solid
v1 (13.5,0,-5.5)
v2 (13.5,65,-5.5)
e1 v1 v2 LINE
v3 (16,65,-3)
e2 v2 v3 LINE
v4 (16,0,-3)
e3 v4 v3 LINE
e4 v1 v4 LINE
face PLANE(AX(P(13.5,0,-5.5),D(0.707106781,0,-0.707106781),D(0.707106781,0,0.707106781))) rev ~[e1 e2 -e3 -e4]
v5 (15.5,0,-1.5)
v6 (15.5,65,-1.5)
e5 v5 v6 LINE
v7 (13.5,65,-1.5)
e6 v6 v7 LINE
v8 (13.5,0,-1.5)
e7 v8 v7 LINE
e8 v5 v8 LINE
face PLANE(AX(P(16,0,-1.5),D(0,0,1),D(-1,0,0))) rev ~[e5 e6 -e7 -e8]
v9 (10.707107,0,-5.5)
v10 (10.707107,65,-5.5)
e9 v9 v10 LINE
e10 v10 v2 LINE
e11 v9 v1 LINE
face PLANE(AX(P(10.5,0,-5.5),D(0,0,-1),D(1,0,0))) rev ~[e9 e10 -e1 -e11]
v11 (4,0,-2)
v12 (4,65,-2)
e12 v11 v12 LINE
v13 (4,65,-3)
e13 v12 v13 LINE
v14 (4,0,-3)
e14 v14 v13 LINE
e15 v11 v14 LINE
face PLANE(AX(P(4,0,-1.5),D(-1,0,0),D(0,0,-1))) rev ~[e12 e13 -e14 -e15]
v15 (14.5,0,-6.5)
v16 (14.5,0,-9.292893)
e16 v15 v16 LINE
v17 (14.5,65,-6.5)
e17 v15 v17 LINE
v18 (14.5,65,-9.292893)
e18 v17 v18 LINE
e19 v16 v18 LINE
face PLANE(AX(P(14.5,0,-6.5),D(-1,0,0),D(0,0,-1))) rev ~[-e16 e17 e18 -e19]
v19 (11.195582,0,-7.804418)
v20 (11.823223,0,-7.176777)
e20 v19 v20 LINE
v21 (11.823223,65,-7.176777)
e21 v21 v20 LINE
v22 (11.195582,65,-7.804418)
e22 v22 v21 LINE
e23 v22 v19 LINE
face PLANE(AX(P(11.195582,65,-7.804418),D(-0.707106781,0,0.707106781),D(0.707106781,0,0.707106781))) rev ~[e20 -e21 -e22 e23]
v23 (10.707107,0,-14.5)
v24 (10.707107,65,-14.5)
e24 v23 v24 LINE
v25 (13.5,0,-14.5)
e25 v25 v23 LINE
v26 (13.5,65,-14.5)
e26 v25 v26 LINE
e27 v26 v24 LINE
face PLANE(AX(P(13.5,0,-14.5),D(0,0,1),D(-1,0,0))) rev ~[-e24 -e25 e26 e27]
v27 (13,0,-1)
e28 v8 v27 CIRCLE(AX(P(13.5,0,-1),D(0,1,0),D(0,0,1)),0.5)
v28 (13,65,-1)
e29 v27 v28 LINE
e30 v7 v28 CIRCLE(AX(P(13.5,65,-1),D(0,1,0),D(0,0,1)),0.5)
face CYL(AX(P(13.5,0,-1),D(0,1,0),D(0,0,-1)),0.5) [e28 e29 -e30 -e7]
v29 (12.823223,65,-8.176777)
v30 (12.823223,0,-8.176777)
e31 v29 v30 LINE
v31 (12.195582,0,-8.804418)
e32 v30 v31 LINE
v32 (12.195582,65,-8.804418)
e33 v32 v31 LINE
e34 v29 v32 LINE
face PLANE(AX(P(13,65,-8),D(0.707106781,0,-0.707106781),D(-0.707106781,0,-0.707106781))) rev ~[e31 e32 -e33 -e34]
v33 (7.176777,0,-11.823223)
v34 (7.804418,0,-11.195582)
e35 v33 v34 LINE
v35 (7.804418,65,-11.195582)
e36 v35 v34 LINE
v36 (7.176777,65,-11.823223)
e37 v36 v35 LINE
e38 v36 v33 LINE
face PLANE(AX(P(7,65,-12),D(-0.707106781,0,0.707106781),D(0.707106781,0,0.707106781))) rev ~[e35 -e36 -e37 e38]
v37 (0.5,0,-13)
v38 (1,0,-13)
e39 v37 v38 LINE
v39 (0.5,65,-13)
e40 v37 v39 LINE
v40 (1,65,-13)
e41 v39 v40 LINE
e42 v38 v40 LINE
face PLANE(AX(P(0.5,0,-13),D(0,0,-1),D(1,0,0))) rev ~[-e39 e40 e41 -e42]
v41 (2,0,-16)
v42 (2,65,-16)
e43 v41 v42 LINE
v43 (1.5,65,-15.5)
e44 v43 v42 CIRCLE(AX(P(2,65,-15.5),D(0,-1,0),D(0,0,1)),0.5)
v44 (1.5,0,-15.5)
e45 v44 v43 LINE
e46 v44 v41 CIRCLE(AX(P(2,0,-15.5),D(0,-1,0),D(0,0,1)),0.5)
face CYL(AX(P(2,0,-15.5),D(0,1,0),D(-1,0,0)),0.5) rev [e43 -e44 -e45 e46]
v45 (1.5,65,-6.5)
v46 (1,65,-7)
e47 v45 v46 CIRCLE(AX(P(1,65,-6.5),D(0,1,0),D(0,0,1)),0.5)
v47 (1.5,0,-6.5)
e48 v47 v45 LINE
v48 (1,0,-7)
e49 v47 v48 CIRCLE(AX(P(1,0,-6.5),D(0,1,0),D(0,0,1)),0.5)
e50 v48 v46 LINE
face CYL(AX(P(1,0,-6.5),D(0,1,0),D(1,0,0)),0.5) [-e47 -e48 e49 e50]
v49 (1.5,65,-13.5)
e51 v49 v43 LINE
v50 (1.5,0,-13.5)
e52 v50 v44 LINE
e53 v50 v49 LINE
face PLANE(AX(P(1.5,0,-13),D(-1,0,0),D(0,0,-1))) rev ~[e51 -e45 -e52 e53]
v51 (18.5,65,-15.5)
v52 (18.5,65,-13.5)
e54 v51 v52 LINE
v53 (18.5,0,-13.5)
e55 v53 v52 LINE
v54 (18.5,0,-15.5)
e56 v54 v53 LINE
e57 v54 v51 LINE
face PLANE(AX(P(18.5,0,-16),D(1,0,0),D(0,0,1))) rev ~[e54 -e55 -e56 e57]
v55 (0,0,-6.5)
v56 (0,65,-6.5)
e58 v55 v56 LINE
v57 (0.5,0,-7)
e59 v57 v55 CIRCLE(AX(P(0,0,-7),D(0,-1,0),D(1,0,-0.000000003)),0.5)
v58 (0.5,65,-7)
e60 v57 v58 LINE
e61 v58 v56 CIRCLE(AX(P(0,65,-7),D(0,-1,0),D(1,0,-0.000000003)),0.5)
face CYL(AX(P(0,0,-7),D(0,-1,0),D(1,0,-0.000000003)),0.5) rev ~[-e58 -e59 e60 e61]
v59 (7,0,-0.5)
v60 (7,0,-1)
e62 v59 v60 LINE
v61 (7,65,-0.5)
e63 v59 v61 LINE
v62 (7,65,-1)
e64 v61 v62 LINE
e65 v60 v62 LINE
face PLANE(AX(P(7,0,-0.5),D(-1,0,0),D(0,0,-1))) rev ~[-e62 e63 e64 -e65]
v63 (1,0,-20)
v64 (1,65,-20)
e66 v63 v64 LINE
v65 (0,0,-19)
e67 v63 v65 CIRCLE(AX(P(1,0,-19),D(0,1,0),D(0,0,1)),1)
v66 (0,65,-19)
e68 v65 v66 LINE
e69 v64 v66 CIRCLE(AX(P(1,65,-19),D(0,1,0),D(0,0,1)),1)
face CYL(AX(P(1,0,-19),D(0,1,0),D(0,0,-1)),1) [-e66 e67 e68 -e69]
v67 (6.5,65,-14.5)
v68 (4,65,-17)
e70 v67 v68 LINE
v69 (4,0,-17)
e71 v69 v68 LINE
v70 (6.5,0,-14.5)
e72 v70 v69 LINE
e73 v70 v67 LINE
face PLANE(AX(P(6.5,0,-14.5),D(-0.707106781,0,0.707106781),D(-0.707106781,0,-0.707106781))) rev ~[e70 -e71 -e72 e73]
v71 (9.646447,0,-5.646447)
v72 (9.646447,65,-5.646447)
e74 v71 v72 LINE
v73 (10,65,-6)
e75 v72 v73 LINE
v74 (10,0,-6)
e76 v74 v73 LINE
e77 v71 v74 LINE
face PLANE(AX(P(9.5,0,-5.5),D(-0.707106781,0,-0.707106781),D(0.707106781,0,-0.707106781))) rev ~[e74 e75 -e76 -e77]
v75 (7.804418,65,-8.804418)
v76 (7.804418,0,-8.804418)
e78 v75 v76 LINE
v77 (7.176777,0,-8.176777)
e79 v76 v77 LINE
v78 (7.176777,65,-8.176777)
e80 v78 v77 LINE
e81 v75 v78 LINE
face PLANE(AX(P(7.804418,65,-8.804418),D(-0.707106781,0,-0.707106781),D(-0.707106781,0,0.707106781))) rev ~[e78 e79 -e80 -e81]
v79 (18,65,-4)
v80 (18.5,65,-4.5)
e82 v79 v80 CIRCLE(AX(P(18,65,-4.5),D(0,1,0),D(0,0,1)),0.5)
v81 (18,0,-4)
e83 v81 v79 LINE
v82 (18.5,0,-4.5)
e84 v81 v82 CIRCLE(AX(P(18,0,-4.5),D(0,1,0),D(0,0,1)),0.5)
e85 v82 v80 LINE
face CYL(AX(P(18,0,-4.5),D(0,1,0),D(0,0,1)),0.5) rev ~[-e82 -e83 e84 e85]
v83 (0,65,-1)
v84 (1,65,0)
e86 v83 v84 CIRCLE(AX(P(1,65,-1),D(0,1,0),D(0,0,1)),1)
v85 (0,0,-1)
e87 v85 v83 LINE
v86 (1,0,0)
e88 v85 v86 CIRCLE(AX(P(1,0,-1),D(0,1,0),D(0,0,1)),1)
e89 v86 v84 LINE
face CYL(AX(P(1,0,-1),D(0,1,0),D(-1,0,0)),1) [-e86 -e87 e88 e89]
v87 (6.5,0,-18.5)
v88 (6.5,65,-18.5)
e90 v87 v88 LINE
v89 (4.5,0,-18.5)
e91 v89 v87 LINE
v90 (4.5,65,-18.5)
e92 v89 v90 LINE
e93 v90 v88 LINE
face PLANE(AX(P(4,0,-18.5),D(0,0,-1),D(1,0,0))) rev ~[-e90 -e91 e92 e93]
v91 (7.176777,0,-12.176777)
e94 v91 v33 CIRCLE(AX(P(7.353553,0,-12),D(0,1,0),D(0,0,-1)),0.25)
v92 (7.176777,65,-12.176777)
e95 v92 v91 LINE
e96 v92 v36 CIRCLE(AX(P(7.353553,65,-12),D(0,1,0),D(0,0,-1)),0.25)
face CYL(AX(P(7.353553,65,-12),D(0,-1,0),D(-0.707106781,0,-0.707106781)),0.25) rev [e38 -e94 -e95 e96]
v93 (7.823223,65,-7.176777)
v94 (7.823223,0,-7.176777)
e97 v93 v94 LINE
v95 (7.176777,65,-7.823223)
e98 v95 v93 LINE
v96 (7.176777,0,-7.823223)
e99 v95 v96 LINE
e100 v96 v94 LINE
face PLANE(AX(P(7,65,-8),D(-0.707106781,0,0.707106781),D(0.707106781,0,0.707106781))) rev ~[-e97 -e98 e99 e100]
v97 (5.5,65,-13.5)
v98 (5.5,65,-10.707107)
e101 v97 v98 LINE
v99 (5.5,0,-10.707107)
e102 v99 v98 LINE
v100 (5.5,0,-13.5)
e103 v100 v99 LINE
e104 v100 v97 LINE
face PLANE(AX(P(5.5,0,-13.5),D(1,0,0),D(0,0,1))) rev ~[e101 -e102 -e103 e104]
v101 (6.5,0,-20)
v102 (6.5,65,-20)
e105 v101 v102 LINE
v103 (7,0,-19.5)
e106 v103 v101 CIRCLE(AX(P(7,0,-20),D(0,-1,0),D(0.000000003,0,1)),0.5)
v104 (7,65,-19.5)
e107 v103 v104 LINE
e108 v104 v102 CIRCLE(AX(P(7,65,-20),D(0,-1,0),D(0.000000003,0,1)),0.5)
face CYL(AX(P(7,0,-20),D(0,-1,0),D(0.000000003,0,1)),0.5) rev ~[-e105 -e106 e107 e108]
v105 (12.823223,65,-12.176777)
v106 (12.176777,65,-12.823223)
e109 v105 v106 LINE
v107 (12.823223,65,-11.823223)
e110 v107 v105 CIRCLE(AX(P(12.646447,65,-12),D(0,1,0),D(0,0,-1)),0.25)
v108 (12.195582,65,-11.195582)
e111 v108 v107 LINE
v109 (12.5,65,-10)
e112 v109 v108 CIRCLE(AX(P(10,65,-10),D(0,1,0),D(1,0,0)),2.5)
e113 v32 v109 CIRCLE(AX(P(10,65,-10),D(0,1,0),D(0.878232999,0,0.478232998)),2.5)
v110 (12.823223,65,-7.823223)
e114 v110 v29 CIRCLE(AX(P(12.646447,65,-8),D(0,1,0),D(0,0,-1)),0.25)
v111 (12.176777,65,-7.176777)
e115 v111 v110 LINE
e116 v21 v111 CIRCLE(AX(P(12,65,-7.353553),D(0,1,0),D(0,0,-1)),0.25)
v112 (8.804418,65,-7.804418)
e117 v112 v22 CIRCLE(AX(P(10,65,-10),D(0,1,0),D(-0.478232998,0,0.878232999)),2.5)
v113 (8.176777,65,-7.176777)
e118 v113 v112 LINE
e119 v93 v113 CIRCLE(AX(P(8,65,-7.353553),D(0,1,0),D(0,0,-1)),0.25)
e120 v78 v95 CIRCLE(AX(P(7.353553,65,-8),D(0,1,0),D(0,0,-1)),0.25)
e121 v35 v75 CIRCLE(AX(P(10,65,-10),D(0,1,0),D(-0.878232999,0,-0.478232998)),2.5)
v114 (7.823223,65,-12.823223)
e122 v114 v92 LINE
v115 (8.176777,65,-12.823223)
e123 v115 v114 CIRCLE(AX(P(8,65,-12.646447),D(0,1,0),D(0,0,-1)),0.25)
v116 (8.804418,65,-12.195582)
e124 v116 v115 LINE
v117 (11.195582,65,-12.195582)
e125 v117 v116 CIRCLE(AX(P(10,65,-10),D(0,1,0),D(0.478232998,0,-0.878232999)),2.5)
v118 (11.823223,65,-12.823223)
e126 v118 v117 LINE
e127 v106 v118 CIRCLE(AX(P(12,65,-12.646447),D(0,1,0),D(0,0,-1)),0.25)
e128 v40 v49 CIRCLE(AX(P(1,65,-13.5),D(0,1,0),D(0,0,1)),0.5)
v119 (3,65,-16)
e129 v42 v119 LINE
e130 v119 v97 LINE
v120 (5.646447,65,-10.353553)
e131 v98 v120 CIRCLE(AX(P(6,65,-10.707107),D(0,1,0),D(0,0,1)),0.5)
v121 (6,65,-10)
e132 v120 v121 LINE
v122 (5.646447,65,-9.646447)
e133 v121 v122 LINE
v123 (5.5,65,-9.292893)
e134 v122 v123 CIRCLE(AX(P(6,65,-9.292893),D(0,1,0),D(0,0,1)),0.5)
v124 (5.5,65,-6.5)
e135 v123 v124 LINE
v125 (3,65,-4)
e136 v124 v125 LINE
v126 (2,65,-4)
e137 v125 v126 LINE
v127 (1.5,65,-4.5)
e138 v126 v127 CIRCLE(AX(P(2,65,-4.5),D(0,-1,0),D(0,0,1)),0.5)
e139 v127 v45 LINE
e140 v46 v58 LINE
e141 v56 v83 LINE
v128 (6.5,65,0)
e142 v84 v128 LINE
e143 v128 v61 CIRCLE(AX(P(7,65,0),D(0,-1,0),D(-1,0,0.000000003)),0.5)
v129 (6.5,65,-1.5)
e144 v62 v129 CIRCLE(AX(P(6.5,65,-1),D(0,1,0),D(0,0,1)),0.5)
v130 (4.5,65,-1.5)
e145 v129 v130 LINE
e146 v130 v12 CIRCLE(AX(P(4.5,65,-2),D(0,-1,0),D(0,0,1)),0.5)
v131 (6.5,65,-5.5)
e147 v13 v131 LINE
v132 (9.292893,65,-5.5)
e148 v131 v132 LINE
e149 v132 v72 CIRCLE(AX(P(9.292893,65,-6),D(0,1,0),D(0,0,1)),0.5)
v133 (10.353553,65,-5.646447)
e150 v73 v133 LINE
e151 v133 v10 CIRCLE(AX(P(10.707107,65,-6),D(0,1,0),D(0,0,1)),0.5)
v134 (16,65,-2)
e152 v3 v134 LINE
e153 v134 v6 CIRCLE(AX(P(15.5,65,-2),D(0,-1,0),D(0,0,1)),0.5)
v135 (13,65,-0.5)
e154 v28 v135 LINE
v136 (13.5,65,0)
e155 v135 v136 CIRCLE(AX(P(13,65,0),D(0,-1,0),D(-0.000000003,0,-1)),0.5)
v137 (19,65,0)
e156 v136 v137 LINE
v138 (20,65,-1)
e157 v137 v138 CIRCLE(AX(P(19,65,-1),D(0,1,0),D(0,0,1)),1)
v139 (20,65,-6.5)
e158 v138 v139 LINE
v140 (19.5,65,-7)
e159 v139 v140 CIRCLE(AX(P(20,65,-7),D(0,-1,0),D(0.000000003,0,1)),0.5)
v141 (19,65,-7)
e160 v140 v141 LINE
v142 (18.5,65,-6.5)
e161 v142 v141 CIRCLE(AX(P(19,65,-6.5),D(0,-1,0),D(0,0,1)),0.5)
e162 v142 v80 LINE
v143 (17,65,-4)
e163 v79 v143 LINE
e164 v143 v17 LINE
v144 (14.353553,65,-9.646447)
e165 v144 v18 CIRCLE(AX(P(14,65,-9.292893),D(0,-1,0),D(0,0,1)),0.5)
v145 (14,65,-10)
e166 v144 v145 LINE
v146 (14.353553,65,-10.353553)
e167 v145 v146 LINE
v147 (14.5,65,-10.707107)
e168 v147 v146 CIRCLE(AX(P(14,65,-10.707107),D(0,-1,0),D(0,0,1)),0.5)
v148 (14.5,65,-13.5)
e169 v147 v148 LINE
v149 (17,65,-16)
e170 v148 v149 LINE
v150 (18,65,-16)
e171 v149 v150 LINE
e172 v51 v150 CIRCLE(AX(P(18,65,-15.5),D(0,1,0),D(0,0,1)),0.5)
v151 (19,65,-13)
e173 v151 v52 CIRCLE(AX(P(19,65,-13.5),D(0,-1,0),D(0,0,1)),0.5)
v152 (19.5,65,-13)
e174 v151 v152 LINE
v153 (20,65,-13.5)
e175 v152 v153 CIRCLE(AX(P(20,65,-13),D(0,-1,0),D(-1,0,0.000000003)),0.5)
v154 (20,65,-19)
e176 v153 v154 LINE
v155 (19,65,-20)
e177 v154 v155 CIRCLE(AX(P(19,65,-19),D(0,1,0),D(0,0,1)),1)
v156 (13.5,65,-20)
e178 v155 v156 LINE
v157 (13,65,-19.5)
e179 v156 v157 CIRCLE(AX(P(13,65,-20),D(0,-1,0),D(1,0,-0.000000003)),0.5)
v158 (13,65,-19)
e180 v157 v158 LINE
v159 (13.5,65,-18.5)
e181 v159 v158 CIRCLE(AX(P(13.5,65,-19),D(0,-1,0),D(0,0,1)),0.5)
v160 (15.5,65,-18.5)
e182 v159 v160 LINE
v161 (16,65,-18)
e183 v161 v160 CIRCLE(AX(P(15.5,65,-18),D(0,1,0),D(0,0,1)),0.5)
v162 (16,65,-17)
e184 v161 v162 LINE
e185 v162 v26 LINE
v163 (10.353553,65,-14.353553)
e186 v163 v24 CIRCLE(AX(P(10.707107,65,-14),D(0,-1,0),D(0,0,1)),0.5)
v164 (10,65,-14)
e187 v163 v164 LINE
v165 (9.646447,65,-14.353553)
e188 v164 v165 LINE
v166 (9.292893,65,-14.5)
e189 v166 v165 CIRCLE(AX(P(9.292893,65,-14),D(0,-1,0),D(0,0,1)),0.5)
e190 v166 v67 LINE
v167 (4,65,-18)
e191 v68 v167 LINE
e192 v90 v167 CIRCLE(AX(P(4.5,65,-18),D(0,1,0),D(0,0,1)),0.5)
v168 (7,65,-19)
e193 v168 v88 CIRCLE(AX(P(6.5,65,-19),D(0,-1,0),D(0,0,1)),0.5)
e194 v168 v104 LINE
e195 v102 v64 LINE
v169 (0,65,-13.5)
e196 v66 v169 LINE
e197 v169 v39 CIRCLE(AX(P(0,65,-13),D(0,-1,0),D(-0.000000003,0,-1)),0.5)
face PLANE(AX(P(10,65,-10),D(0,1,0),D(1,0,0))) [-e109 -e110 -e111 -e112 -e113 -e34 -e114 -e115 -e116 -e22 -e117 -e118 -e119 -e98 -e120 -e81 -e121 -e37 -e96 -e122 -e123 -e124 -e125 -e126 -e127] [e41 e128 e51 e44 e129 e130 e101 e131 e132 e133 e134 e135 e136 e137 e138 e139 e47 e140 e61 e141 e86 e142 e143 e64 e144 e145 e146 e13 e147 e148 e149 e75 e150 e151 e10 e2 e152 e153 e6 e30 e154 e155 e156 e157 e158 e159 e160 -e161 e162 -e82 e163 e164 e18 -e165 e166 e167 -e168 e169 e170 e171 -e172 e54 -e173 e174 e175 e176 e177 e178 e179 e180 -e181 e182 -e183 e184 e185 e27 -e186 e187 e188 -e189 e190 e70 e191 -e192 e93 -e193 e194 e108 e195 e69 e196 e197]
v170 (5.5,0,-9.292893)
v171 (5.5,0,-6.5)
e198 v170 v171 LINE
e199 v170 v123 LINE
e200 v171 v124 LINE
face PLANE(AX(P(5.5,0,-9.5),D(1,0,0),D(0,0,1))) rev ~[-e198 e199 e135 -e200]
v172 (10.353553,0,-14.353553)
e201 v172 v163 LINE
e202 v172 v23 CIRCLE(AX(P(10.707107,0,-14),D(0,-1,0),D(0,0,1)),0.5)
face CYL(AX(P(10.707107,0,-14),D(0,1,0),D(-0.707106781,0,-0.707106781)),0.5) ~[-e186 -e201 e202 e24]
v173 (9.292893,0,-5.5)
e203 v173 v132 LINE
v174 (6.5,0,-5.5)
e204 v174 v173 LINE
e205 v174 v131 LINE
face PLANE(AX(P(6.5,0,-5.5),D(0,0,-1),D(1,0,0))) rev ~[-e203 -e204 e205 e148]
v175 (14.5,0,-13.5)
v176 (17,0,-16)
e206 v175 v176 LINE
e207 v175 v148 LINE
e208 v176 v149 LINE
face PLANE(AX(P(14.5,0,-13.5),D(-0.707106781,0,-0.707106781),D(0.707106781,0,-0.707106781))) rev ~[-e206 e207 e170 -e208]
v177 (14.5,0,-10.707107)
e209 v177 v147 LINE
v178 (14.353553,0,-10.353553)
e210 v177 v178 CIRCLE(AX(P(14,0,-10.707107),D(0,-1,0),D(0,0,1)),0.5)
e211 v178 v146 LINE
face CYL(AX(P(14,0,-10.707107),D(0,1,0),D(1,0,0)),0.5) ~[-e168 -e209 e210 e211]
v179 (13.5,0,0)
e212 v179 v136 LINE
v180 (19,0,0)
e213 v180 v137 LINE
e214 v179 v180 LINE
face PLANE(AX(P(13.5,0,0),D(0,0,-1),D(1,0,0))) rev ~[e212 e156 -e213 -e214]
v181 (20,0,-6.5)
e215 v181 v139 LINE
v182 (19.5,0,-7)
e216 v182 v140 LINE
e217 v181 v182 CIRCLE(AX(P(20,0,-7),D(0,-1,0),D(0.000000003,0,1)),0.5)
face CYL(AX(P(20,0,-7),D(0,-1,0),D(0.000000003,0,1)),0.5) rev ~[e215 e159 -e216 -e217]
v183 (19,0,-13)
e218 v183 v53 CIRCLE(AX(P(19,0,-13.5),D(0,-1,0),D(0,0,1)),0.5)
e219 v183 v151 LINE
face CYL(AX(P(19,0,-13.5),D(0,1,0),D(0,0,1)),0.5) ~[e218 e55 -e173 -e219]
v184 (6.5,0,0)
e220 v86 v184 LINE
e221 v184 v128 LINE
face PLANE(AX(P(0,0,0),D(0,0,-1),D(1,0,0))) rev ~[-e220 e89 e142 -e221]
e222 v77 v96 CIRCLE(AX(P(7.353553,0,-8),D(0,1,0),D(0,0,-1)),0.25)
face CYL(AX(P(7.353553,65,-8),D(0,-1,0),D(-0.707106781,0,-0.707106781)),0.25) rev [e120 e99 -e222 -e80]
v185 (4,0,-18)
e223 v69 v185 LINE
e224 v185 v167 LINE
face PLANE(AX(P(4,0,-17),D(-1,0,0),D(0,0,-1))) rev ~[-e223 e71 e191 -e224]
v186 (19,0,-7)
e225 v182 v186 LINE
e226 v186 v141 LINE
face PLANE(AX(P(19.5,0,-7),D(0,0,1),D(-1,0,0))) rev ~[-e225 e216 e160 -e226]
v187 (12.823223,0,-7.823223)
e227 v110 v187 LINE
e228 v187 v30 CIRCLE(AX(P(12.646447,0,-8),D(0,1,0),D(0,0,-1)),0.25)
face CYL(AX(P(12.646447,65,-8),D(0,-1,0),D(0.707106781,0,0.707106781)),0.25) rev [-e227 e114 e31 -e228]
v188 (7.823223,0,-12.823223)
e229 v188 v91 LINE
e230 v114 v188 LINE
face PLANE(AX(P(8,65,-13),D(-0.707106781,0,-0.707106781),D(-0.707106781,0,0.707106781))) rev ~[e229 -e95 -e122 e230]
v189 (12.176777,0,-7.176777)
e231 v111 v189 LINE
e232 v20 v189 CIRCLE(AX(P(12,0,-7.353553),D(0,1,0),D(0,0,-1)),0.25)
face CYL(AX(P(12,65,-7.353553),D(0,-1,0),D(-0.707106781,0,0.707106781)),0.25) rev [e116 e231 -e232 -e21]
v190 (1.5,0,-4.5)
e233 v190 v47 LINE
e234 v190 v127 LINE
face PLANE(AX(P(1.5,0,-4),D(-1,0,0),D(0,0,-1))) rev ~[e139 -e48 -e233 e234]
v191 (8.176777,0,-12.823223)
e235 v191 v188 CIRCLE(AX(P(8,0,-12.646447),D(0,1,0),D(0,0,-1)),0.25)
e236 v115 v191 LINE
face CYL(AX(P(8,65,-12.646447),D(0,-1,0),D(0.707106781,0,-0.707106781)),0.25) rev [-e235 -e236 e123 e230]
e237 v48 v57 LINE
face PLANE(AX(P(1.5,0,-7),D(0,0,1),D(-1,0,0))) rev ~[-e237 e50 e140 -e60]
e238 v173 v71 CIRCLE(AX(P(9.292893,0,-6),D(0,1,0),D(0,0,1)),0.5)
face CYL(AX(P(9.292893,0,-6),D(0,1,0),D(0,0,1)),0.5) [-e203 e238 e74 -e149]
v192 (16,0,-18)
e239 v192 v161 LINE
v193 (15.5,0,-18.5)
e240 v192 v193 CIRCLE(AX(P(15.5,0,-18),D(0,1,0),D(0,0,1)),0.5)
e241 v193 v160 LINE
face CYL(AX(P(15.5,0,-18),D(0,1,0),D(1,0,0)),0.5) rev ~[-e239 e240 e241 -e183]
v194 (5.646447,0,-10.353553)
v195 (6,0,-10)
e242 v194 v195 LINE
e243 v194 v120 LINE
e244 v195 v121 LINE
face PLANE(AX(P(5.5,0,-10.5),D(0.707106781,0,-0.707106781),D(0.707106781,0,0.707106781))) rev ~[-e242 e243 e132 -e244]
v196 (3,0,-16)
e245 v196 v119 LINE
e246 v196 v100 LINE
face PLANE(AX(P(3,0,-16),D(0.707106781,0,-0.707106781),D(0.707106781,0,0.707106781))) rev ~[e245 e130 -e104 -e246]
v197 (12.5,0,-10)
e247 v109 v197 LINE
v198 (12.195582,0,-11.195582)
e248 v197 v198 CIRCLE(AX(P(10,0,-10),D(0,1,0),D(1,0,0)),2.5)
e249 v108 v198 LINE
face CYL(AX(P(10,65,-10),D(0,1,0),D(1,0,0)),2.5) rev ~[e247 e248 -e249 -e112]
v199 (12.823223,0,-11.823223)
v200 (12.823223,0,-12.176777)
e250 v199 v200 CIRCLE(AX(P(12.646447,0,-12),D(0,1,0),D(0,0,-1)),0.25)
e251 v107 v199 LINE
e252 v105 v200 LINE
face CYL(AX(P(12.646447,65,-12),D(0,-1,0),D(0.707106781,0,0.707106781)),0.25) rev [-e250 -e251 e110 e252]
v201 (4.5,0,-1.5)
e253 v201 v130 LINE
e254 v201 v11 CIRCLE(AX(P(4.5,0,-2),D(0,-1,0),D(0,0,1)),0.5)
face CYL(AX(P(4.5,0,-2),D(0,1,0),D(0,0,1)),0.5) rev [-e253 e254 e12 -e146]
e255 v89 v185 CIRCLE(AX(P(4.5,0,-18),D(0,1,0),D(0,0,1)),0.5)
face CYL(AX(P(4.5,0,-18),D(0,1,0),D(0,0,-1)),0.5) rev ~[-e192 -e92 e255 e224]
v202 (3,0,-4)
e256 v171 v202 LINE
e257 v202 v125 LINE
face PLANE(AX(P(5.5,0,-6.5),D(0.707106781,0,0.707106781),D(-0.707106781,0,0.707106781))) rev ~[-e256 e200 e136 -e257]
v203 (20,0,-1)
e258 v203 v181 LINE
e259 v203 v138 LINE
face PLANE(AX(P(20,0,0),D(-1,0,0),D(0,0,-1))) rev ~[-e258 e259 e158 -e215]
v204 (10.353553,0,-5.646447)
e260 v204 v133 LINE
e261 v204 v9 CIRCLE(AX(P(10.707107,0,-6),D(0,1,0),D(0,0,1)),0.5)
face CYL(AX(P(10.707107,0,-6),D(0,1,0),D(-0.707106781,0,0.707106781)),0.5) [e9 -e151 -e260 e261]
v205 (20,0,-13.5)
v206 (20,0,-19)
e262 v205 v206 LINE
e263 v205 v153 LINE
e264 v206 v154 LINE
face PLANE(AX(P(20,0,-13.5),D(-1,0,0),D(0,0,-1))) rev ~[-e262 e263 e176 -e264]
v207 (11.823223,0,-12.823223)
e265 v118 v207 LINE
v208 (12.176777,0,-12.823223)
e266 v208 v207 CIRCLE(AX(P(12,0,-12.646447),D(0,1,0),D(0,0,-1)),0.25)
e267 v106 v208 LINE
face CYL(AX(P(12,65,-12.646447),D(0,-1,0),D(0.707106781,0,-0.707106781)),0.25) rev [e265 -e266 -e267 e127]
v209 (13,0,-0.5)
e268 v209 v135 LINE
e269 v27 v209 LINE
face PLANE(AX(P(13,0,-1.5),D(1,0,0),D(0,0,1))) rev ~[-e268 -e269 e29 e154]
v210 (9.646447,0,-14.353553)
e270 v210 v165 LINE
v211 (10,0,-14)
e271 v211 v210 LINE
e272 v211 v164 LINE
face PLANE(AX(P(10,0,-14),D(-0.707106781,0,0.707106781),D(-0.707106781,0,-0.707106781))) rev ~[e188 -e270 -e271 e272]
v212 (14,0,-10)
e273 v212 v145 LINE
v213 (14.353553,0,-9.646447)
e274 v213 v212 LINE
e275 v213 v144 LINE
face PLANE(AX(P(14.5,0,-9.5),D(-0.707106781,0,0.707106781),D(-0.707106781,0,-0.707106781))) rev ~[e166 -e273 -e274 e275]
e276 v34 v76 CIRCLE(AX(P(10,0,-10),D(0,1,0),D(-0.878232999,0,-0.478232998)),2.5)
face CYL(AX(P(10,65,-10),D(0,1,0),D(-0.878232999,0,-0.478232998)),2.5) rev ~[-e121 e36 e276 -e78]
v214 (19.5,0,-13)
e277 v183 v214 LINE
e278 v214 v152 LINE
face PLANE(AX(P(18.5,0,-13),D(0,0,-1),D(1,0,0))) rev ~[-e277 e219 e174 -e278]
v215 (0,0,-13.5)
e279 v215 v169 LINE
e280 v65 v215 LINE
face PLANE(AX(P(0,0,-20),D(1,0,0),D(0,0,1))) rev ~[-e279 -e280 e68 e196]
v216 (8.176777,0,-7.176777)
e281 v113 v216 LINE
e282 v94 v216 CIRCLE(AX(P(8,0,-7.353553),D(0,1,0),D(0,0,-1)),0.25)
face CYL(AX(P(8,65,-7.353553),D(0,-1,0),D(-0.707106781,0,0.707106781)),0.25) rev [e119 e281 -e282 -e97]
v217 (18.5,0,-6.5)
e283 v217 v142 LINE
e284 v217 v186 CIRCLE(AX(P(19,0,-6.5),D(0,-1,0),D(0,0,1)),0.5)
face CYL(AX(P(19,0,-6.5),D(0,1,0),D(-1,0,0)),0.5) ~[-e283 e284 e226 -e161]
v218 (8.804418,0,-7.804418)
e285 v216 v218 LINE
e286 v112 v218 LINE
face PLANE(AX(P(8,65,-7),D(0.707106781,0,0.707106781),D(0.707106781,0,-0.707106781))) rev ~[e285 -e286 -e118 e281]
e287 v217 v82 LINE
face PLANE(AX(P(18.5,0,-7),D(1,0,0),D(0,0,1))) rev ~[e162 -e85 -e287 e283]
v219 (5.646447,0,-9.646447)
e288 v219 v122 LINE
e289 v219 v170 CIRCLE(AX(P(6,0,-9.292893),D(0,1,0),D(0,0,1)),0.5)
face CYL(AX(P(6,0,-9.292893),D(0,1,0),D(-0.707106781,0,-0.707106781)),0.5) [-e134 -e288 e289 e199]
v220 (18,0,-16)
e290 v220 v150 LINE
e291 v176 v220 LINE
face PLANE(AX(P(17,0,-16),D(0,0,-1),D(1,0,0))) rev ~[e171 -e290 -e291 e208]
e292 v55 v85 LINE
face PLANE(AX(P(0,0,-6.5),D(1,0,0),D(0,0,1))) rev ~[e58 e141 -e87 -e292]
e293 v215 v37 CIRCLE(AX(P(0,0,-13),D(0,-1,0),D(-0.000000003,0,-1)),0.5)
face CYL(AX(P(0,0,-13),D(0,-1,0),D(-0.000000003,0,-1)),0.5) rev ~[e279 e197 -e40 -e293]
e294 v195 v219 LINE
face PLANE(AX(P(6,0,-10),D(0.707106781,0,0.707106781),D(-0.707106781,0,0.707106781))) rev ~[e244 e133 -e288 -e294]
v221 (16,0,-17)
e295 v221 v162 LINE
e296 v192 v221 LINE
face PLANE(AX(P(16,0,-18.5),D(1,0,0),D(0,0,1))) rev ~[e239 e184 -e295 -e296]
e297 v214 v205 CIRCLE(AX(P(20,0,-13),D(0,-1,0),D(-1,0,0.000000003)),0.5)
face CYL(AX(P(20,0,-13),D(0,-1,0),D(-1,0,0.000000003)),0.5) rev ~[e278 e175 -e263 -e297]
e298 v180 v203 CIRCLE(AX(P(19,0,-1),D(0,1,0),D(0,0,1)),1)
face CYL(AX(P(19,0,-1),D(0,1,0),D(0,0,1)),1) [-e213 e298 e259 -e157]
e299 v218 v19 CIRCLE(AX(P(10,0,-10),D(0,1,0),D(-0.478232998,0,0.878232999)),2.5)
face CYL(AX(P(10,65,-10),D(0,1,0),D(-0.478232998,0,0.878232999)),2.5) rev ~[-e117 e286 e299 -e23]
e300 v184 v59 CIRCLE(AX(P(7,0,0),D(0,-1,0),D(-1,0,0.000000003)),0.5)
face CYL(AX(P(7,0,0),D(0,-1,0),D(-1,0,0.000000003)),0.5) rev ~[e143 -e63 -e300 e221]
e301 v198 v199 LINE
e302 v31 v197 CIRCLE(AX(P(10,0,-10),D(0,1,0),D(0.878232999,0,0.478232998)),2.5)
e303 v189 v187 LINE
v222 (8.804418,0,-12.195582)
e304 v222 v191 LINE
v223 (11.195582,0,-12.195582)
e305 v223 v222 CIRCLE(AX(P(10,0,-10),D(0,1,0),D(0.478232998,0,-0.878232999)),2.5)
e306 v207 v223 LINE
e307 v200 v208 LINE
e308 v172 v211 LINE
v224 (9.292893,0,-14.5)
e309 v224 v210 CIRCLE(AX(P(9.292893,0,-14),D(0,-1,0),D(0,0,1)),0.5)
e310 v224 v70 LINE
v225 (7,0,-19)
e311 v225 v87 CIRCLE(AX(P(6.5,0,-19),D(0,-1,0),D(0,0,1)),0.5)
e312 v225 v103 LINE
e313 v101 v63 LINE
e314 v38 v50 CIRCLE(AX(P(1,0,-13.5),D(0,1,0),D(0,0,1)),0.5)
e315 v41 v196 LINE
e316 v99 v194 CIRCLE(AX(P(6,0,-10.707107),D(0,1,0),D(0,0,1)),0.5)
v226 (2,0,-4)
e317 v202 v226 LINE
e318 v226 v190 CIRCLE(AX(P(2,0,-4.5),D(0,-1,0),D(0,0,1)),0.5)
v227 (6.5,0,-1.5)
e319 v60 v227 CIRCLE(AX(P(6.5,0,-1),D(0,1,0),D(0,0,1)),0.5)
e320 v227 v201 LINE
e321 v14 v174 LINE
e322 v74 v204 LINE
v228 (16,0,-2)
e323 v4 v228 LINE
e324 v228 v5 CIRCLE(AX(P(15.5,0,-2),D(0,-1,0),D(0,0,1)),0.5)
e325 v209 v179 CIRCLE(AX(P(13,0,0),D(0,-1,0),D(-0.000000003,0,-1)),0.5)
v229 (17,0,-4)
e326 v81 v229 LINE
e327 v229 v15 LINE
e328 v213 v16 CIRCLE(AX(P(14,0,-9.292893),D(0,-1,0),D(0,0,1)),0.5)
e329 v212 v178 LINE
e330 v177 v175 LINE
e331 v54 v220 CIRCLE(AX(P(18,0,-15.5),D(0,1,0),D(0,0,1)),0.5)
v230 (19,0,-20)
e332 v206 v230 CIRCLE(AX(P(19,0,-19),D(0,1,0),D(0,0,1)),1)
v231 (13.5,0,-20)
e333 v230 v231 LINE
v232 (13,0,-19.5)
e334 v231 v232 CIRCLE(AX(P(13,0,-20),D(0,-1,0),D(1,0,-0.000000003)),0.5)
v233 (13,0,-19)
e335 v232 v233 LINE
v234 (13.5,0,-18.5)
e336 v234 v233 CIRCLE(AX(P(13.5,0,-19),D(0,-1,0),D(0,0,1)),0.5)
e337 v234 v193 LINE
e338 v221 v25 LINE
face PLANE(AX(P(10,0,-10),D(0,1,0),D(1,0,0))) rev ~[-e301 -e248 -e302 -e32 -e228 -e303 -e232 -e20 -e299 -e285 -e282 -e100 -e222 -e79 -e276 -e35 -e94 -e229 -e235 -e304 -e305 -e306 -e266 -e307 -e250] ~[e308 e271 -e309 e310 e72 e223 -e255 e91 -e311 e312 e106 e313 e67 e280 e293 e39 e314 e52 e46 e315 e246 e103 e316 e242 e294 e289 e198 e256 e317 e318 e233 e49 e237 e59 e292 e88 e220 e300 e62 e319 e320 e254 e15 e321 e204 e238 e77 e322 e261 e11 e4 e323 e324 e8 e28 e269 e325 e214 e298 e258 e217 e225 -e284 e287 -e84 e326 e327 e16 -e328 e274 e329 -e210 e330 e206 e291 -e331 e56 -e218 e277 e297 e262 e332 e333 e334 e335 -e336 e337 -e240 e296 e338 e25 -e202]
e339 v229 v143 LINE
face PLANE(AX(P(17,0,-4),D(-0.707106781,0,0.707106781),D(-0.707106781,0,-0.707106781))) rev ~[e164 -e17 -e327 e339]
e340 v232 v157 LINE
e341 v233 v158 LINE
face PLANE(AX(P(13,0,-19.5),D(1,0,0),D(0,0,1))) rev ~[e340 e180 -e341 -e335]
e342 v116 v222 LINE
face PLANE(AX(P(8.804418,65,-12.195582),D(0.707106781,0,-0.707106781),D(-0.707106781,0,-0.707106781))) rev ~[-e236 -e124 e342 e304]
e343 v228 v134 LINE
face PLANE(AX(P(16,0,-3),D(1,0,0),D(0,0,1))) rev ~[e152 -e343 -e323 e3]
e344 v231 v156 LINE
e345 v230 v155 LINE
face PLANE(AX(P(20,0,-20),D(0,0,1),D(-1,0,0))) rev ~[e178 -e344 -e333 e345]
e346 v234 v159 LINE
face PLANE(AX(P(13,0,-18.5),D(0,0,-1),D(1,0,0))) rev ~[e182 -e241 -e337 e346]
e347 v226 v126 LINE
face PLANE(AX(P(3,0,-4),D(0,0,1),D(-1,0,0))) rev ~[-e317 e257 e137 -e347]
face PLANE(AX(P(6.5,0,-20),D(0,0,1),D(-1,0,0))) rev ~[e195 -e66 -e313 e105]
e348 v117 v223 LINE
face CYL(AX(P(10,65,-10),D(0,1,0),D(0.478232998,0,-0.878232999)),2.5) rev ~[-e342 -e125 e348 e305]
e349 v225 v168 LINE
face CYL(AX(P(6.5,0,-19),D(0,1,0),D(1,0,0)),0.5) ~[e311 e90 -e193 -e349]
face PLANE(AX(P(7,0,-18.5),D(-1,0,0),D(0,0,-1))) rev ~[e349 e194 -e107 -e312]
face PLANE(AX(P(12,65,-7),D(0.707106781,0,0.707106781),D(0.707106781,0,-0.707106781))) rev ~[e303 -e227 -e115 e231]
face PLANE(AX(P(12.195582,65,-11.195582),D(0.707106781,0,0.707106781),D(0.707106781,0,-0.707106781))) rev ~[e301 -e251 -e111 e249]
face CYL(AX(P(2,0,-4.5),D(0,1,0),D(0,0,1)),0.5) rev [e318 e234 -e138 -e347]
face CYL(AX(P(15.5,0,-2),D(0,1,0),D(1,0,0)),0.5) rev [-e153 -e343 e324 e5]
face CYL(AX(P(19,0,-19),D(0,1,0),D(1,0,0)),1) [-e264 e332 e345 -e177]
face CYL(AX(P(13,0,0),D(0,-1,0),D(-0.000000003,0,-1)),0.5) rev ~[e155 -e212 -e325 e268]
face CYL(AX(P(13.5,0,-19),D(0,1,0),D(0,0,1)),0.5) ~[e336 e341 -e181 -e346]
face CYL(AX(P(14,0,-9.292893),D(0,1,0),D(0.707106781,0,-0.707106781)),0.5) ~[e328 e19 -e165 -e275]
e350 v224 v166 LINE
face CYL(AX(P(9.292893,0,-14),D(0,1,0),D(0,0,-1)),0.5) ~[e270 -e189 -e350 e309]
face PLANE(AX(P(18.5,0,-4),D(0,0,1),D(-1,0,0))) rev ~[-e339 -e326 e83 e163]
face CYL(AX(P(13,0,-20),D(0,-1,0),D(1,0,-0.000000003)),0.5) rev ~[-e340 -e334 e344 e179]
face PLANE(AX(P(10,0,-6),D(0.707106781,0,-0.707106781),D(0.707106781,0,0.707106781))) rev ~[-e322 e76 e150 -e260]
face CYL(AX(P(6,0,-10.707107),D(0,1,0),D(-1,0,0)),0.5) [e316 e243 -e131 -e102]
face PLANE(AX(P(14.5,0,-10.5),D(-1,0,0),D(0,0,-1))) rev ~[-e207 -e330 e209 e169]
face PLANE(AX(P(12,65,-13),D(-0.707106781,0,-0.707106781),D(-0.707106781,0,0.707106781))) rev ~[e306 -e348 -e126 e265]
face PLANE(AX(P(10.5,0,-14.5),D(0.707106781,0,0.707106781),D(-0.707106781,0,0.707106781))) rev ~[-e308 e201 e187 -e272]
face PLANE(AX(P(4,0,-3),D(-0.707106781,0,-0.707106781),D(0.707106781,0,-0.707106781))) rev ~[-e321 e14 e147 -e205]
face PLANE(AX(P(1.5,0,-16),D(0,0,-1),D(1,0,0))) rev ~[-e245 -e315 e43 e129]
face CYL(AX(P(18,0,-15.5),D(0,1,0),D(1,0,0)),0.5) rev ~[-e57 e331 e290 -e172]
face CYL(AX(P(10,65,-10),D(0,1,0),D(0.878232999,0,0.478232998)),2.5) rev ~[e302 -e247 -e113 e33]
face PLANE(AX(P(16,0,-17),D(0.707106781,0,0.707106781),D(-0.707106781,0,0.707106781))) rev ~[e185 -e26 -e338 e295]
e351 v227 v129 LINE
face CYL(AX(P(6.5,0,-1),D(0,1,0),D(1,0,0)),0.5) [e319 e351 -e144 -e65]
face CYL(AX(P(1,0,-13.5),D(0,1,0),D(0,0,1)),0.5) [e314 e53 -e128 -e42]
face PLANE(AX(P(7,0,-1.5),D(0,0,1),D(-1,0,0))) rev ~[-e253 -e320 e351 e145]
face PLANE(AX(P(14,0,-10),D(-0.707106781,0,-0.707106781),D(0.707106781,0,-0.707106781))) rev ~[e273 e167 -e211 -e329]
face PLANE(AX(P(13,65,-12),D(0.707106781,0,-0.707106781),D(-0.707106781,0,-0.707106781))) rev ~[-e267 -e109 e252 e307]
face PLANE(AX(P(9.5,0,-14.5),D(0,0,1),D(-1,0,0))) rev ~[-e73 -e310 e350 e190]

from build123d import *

# Parameters (mm, degrees)
BOSS_EXTRUDE1_DEPTH = 65
FILLET1_R           = 1
CUT_EXTRUDE1_DEPTH  = 66
FILLET2_R           = 0.5
FILLET3_R           = 0.25


with BuildPart() as part:
    # Sketch3 → Boss-Extrude1 (new body)
    with BuildSketch(Plane(origin=(0, 0, 0), x_dir=(1, 0, 0), z_dir=(0, 1, 0))):
        with BuildLine():
            Line((7, 18.5), (7, 19.5))
            ThreePointArc((7, 19.5), (6.646446609, 19.646446609), (6.5, 20))
            Line((6.5, 20), (0, 20))
            Line((0, 20), (0, 13.5))
            ThreePointArc((0, 13.5), (0.353553391, 13.353553391), (0.5, 13))
            Line((0.5, 13), (1.5, 13))
            Line((1.5, 13), (1.5, 16))
            Line((1.5, 16), (3, 16))
            Line((3, 16), (5.5, 13.5))
            Line((5.5, 13.5), (5.5, 10.5))
            Line((5.5, 10.5), (6, 10))
            Line((6, 10), (5.5, 9.5))
            Line((5.5, 9.5), (5.5, 6.5))
            Line((5.5, 6.5), (3, 4))
            Line((3, 4), (1.5, 4))
            Line((1.5, 4), (1.5, 7))
            Line((1.5, 7), (0.5, 7))
            ThreePointArc((0.5, 7), (0.353553391, 6.646446609), (0, 6.5))
            Line((0, 6.5), (0, 0))
            Line((0, 0), (6.5, 0))
            ThreePointArc((6.5, 0), (6.646446609, 0.353553391), (7, 0.5))
            Line((7, 0.5), (7, 1.5))
            Line((7, 1.5), (4, 1.5))
            Line((4, 1.5), (4, 3))
            Line((4, 3), (6.5, 5.5))
            Line((6.5, 5.5), (9.5, 5.5))
            Line((9.5, 5.5), (10, 6))
            Line((10, 6), (10.5, 5.5))
            Line((10.5, 5.5), (13.5, 5.5))
            Line((13.5, 5.5), (16, 3))
            Line((16, 3), (16, 1.5))
            Line((16, 1.5), (13, 1.5))
            Line((13, 1.5), (13, 0.5))
            ThreePointArc((13, 0.5), (13.353553391, 0.353553391), (13.5, 0))
            Line((13.5, 0), (20, 0))
            Line((20, 0), (20, 6.5))
            ThreePointArc((20, 6.5), (19.646446609, 6.646446609), (19.5, 7))
            Line((19.5, 7), (18.5, 7))
            Line((18.5, 7), (18.5, 4))
            Line((18.5, 4), (17, 4))
            Line((17, 4), (14.5, 6.5))
            Line((14.5, 6.5), (14.5, 9.5))
            Line((14.5, 9.5), (14, 10))
            Line((14, 10), (14.5, 10.5))
            Line((14.5, 10.5), (14.5, 13.5))
            Line((14.5, 13.5), (17, 16))
            Line((17, 16), (18.5, 16))
            Line((18.5, 16), (18.5, 13))
            Line((18.5, 13), (19.5, 13))
            ThreePointArc((19.5, 13), (19.646446609, 13.353553391), (20, 13.5))
            Line((20, 13.5), (20, 20))
            Line((20, 20), (13.5, 20))
            ThreePointArc((13.5, 20), (13.353553391, 19.646446609), (13, 19.5))
            Line((13, 19.5), (13, 18.5))
            Line((13, 18.5), (16, 18.5))
            Line((16, 18.5), (16, 17))
            Line((16, 17), (13.5, 14.5))
            Line((13.5, 14.5), (10.5, 14.5))
            Line((10.5, 14.5), (10, 14))
            Line((10, 14), (9.5, 14.5))
            Line((9.5, 14.5), (6.5, 14.5))
            Line((6.5, 14.5), (4, 17))
            Line((4, 17), (4, 18.5))
            Line((4, 18.5), (7, 18.5))
        make_face()
    extrude(amount=BOSS_EXTRUDE1_DEPTH)

    # Fillet1
    fillet1_edges = [part.edges().sort_by_distance(p)[0] for p in [
        (20, 32.5, 0),
        (0, 32.5, 0),
        (0, 32.5, -20),
        (20, 32.5, -20),
    ]]
    fillet(fillet1_edges, radius=FILLET1_R)

    # Sketch4 → Cut-Extrude1 (cut, through all)
    with BuildSketch(Plane(origin=(0, 65, 0), x_dir=(1, 0, 0), z_dir=(0, 1, 0))):
        with BuildLine():
            Line((10, 11), (11.195582496, 12.195582496))
            ThreePointArc((11.195582496, 12.195582496), (10, 12.5), (8.804417504, 12.195582496))
            Line((8.804417504, 12.195582496), (10, 11))
        make_face()
        with BuildLine():
            ThreePointArc((12.195582496, 11.195582496), (11.767766953, 11.767766953), (11.195582496, 12.195582496))
            Line((11.195582496, 12.195582496), (10, 11))
            Line((10, 11), (11, 10))
            Line((11, 10), (12.195582496, 11.195582496))
        make_face()
        with BuildLine():
            Line((9, 10), (10, 11))
            Line((10, 11), (8.804417504, 12.195582496))
            ThreePointArc((8.804417504, 12.195582496), (8.232233047, 11.767766953), (7.804417504, 11.195582496))
            Line((7.804417504, 11.195582496), (9, 10))
        make_face()
        Polygon((11, 10), (10, 11), (9, 10), (10, 9), align=None)
        with BuildLine():
            Line((7.804417504, 8.804417504), (9, 10))
            Line((9, 10), (7.804417504, 11.195582496))
            ThreePointArc((7.804417504, 11.195582496), (7.5, 10), (7.804417504, 8.804417504))
        make_face()
        with BuildLine():
            Line((10, 9), (9, 10))
            Line((9, 10), (7.804417504, 8.804417504))
            ThreePointArc((7.804417504, 8.804417504), (8.232233047, 8.232233047), (8.804417504, 7.804417504))
            Line((8.804417504, 7.804417504), (10, 9))
        make_face()
        with BuildLine():
            Line((11.195582496, 7.804417504), (10, 9))
            Line((10, 9), (8.804417504, 7.804417504))
            ThreePointArc((8.804417504, 7.804417504), (10, 7.5), (11.195582496, 7.804417504))
        make_face()
        with BuildLine():
            Line((12.195582496, 8.804417504), (11, 10))
            Line((11, 10), (10, 9))
            Line((10, 9), (11.195582496, 7.804417504))
            ThreePointArc((11.195582496, 7.804417504), (11.767766953, 8.232233047), (12.195582496, 8.804417504))
        make_face()
        with BuildLine():
            ThreePointArc((12.5, 10), (12.422700584, 10.616864556), (12.195582496, 11.195582496))
            Line((12.195582496, 11.195582496), (11, 10))
            Line((11, 10), (12.195582496, 8.804417504))
            ThreePointArc((12.195582496, 8.804417504), (12.422700584, 9.383135444), (12.5, 10))
        make_face()
        with BuildLine():
            ThreePointArc((8.804417504, 7.804417504), (8.232233047, 8.232233047), (7.804417504, 8.804417504))
            Line((7.804417504, 8.804417504), (7, 8))
            Line((7, 8), (8, 7))
            Line((8, 7), (8.804417504, 7.804417504))
        make_face()
        with BuildLine():
            Line((13, 8), (12.195582496, 8.804417504))
            ThreePointArc((12.195582496, 8.804417504), (11.767766953, 8.232233047), (11.195582496, 7.804417504))
            Line((11.195582496, 7.804417504), (12, 7))
            Line((12, 7), (13, 8))
        make_face()
        with BuildLine():
            Line((13, 12), (12, 13))
            Line((12, 13), (11.195582496, 12.195582496))
            ThreePointArc((11.195582496, 12.195582496), (11.767766953, 11.767766953), (12.195582496, 11.195582496))
            Line((12.195582496, 11.195582496), (13, 12))
        make_face()
        with BuildLine():
            ThreePointArc((7.804417504, 11.195582496), (8.232233047, 11.767766953), (8.804417504, 12.195582496))
            Line((8.804417504, 12.195582496), (8, 13))
            Line((8, 13), (7, 12))
            Line((7, 12), (7.804417504, 11.195582496))
        make_face()
    extrude(amount=-CUT_EXTRUDE1_DEPTH, mode=Mode.SUBTRACT)

    # Fillet2
    fillet2_edges = [part.edges().sort_by_distance(p)[0] for p in [
        (18.5, 32.5, -13),
        (18.5, 32.5, -16),
        (14.5, 32.5, -10.5),
        (14.5, 32.5, -9.5),
        (18.5, 32.5, -4),
        (18.5, 32.5, -7),
        (13, 32.5, -1.5),
        (16, 32.5, -1.5),
        (10.5, 32.5, -5.5),
        (9.5, 32.5, -5.5),
        (4, 32.5, -1.5),
        (7, 32.5, -1.5),
        (1.5, 32.5, -7),
        (1.5, 32.5, -4),
        (5.5, 32.5, -9.5),
        (5.5, 32.5, -10.5),
        (1.5, 32.5, -16),
        (1.5, 32.5, -13),
        (7, 32.5, -18.5),
        (4, 32.5, -18.5),
        (9.5, 32.5, -14.5),
        (10.5, 32.5, -14.5),
        (16, 32.5, -18.5),
        (13, 32.5, -18.5),
    ]]
    fillet(fillet2_edges, radius=FILLET2_R)

    # Fillet3
    fillet3_edges = [part.edges().sort_by_distance(p)[0] for p in [
        (7, 32.5, -12),
        (8, 32.5, -13),
        (12, 32.5, -13),
        (13, 32.5, -12),
        (13, 32.5, -8),
        (12, 32.5, -7),
        (8, 32.5, -7),
        (7, 32.5, -8),
    ]]
    fillet(fillet3_edges, radius=FILLET3_R)


solid = part.part
